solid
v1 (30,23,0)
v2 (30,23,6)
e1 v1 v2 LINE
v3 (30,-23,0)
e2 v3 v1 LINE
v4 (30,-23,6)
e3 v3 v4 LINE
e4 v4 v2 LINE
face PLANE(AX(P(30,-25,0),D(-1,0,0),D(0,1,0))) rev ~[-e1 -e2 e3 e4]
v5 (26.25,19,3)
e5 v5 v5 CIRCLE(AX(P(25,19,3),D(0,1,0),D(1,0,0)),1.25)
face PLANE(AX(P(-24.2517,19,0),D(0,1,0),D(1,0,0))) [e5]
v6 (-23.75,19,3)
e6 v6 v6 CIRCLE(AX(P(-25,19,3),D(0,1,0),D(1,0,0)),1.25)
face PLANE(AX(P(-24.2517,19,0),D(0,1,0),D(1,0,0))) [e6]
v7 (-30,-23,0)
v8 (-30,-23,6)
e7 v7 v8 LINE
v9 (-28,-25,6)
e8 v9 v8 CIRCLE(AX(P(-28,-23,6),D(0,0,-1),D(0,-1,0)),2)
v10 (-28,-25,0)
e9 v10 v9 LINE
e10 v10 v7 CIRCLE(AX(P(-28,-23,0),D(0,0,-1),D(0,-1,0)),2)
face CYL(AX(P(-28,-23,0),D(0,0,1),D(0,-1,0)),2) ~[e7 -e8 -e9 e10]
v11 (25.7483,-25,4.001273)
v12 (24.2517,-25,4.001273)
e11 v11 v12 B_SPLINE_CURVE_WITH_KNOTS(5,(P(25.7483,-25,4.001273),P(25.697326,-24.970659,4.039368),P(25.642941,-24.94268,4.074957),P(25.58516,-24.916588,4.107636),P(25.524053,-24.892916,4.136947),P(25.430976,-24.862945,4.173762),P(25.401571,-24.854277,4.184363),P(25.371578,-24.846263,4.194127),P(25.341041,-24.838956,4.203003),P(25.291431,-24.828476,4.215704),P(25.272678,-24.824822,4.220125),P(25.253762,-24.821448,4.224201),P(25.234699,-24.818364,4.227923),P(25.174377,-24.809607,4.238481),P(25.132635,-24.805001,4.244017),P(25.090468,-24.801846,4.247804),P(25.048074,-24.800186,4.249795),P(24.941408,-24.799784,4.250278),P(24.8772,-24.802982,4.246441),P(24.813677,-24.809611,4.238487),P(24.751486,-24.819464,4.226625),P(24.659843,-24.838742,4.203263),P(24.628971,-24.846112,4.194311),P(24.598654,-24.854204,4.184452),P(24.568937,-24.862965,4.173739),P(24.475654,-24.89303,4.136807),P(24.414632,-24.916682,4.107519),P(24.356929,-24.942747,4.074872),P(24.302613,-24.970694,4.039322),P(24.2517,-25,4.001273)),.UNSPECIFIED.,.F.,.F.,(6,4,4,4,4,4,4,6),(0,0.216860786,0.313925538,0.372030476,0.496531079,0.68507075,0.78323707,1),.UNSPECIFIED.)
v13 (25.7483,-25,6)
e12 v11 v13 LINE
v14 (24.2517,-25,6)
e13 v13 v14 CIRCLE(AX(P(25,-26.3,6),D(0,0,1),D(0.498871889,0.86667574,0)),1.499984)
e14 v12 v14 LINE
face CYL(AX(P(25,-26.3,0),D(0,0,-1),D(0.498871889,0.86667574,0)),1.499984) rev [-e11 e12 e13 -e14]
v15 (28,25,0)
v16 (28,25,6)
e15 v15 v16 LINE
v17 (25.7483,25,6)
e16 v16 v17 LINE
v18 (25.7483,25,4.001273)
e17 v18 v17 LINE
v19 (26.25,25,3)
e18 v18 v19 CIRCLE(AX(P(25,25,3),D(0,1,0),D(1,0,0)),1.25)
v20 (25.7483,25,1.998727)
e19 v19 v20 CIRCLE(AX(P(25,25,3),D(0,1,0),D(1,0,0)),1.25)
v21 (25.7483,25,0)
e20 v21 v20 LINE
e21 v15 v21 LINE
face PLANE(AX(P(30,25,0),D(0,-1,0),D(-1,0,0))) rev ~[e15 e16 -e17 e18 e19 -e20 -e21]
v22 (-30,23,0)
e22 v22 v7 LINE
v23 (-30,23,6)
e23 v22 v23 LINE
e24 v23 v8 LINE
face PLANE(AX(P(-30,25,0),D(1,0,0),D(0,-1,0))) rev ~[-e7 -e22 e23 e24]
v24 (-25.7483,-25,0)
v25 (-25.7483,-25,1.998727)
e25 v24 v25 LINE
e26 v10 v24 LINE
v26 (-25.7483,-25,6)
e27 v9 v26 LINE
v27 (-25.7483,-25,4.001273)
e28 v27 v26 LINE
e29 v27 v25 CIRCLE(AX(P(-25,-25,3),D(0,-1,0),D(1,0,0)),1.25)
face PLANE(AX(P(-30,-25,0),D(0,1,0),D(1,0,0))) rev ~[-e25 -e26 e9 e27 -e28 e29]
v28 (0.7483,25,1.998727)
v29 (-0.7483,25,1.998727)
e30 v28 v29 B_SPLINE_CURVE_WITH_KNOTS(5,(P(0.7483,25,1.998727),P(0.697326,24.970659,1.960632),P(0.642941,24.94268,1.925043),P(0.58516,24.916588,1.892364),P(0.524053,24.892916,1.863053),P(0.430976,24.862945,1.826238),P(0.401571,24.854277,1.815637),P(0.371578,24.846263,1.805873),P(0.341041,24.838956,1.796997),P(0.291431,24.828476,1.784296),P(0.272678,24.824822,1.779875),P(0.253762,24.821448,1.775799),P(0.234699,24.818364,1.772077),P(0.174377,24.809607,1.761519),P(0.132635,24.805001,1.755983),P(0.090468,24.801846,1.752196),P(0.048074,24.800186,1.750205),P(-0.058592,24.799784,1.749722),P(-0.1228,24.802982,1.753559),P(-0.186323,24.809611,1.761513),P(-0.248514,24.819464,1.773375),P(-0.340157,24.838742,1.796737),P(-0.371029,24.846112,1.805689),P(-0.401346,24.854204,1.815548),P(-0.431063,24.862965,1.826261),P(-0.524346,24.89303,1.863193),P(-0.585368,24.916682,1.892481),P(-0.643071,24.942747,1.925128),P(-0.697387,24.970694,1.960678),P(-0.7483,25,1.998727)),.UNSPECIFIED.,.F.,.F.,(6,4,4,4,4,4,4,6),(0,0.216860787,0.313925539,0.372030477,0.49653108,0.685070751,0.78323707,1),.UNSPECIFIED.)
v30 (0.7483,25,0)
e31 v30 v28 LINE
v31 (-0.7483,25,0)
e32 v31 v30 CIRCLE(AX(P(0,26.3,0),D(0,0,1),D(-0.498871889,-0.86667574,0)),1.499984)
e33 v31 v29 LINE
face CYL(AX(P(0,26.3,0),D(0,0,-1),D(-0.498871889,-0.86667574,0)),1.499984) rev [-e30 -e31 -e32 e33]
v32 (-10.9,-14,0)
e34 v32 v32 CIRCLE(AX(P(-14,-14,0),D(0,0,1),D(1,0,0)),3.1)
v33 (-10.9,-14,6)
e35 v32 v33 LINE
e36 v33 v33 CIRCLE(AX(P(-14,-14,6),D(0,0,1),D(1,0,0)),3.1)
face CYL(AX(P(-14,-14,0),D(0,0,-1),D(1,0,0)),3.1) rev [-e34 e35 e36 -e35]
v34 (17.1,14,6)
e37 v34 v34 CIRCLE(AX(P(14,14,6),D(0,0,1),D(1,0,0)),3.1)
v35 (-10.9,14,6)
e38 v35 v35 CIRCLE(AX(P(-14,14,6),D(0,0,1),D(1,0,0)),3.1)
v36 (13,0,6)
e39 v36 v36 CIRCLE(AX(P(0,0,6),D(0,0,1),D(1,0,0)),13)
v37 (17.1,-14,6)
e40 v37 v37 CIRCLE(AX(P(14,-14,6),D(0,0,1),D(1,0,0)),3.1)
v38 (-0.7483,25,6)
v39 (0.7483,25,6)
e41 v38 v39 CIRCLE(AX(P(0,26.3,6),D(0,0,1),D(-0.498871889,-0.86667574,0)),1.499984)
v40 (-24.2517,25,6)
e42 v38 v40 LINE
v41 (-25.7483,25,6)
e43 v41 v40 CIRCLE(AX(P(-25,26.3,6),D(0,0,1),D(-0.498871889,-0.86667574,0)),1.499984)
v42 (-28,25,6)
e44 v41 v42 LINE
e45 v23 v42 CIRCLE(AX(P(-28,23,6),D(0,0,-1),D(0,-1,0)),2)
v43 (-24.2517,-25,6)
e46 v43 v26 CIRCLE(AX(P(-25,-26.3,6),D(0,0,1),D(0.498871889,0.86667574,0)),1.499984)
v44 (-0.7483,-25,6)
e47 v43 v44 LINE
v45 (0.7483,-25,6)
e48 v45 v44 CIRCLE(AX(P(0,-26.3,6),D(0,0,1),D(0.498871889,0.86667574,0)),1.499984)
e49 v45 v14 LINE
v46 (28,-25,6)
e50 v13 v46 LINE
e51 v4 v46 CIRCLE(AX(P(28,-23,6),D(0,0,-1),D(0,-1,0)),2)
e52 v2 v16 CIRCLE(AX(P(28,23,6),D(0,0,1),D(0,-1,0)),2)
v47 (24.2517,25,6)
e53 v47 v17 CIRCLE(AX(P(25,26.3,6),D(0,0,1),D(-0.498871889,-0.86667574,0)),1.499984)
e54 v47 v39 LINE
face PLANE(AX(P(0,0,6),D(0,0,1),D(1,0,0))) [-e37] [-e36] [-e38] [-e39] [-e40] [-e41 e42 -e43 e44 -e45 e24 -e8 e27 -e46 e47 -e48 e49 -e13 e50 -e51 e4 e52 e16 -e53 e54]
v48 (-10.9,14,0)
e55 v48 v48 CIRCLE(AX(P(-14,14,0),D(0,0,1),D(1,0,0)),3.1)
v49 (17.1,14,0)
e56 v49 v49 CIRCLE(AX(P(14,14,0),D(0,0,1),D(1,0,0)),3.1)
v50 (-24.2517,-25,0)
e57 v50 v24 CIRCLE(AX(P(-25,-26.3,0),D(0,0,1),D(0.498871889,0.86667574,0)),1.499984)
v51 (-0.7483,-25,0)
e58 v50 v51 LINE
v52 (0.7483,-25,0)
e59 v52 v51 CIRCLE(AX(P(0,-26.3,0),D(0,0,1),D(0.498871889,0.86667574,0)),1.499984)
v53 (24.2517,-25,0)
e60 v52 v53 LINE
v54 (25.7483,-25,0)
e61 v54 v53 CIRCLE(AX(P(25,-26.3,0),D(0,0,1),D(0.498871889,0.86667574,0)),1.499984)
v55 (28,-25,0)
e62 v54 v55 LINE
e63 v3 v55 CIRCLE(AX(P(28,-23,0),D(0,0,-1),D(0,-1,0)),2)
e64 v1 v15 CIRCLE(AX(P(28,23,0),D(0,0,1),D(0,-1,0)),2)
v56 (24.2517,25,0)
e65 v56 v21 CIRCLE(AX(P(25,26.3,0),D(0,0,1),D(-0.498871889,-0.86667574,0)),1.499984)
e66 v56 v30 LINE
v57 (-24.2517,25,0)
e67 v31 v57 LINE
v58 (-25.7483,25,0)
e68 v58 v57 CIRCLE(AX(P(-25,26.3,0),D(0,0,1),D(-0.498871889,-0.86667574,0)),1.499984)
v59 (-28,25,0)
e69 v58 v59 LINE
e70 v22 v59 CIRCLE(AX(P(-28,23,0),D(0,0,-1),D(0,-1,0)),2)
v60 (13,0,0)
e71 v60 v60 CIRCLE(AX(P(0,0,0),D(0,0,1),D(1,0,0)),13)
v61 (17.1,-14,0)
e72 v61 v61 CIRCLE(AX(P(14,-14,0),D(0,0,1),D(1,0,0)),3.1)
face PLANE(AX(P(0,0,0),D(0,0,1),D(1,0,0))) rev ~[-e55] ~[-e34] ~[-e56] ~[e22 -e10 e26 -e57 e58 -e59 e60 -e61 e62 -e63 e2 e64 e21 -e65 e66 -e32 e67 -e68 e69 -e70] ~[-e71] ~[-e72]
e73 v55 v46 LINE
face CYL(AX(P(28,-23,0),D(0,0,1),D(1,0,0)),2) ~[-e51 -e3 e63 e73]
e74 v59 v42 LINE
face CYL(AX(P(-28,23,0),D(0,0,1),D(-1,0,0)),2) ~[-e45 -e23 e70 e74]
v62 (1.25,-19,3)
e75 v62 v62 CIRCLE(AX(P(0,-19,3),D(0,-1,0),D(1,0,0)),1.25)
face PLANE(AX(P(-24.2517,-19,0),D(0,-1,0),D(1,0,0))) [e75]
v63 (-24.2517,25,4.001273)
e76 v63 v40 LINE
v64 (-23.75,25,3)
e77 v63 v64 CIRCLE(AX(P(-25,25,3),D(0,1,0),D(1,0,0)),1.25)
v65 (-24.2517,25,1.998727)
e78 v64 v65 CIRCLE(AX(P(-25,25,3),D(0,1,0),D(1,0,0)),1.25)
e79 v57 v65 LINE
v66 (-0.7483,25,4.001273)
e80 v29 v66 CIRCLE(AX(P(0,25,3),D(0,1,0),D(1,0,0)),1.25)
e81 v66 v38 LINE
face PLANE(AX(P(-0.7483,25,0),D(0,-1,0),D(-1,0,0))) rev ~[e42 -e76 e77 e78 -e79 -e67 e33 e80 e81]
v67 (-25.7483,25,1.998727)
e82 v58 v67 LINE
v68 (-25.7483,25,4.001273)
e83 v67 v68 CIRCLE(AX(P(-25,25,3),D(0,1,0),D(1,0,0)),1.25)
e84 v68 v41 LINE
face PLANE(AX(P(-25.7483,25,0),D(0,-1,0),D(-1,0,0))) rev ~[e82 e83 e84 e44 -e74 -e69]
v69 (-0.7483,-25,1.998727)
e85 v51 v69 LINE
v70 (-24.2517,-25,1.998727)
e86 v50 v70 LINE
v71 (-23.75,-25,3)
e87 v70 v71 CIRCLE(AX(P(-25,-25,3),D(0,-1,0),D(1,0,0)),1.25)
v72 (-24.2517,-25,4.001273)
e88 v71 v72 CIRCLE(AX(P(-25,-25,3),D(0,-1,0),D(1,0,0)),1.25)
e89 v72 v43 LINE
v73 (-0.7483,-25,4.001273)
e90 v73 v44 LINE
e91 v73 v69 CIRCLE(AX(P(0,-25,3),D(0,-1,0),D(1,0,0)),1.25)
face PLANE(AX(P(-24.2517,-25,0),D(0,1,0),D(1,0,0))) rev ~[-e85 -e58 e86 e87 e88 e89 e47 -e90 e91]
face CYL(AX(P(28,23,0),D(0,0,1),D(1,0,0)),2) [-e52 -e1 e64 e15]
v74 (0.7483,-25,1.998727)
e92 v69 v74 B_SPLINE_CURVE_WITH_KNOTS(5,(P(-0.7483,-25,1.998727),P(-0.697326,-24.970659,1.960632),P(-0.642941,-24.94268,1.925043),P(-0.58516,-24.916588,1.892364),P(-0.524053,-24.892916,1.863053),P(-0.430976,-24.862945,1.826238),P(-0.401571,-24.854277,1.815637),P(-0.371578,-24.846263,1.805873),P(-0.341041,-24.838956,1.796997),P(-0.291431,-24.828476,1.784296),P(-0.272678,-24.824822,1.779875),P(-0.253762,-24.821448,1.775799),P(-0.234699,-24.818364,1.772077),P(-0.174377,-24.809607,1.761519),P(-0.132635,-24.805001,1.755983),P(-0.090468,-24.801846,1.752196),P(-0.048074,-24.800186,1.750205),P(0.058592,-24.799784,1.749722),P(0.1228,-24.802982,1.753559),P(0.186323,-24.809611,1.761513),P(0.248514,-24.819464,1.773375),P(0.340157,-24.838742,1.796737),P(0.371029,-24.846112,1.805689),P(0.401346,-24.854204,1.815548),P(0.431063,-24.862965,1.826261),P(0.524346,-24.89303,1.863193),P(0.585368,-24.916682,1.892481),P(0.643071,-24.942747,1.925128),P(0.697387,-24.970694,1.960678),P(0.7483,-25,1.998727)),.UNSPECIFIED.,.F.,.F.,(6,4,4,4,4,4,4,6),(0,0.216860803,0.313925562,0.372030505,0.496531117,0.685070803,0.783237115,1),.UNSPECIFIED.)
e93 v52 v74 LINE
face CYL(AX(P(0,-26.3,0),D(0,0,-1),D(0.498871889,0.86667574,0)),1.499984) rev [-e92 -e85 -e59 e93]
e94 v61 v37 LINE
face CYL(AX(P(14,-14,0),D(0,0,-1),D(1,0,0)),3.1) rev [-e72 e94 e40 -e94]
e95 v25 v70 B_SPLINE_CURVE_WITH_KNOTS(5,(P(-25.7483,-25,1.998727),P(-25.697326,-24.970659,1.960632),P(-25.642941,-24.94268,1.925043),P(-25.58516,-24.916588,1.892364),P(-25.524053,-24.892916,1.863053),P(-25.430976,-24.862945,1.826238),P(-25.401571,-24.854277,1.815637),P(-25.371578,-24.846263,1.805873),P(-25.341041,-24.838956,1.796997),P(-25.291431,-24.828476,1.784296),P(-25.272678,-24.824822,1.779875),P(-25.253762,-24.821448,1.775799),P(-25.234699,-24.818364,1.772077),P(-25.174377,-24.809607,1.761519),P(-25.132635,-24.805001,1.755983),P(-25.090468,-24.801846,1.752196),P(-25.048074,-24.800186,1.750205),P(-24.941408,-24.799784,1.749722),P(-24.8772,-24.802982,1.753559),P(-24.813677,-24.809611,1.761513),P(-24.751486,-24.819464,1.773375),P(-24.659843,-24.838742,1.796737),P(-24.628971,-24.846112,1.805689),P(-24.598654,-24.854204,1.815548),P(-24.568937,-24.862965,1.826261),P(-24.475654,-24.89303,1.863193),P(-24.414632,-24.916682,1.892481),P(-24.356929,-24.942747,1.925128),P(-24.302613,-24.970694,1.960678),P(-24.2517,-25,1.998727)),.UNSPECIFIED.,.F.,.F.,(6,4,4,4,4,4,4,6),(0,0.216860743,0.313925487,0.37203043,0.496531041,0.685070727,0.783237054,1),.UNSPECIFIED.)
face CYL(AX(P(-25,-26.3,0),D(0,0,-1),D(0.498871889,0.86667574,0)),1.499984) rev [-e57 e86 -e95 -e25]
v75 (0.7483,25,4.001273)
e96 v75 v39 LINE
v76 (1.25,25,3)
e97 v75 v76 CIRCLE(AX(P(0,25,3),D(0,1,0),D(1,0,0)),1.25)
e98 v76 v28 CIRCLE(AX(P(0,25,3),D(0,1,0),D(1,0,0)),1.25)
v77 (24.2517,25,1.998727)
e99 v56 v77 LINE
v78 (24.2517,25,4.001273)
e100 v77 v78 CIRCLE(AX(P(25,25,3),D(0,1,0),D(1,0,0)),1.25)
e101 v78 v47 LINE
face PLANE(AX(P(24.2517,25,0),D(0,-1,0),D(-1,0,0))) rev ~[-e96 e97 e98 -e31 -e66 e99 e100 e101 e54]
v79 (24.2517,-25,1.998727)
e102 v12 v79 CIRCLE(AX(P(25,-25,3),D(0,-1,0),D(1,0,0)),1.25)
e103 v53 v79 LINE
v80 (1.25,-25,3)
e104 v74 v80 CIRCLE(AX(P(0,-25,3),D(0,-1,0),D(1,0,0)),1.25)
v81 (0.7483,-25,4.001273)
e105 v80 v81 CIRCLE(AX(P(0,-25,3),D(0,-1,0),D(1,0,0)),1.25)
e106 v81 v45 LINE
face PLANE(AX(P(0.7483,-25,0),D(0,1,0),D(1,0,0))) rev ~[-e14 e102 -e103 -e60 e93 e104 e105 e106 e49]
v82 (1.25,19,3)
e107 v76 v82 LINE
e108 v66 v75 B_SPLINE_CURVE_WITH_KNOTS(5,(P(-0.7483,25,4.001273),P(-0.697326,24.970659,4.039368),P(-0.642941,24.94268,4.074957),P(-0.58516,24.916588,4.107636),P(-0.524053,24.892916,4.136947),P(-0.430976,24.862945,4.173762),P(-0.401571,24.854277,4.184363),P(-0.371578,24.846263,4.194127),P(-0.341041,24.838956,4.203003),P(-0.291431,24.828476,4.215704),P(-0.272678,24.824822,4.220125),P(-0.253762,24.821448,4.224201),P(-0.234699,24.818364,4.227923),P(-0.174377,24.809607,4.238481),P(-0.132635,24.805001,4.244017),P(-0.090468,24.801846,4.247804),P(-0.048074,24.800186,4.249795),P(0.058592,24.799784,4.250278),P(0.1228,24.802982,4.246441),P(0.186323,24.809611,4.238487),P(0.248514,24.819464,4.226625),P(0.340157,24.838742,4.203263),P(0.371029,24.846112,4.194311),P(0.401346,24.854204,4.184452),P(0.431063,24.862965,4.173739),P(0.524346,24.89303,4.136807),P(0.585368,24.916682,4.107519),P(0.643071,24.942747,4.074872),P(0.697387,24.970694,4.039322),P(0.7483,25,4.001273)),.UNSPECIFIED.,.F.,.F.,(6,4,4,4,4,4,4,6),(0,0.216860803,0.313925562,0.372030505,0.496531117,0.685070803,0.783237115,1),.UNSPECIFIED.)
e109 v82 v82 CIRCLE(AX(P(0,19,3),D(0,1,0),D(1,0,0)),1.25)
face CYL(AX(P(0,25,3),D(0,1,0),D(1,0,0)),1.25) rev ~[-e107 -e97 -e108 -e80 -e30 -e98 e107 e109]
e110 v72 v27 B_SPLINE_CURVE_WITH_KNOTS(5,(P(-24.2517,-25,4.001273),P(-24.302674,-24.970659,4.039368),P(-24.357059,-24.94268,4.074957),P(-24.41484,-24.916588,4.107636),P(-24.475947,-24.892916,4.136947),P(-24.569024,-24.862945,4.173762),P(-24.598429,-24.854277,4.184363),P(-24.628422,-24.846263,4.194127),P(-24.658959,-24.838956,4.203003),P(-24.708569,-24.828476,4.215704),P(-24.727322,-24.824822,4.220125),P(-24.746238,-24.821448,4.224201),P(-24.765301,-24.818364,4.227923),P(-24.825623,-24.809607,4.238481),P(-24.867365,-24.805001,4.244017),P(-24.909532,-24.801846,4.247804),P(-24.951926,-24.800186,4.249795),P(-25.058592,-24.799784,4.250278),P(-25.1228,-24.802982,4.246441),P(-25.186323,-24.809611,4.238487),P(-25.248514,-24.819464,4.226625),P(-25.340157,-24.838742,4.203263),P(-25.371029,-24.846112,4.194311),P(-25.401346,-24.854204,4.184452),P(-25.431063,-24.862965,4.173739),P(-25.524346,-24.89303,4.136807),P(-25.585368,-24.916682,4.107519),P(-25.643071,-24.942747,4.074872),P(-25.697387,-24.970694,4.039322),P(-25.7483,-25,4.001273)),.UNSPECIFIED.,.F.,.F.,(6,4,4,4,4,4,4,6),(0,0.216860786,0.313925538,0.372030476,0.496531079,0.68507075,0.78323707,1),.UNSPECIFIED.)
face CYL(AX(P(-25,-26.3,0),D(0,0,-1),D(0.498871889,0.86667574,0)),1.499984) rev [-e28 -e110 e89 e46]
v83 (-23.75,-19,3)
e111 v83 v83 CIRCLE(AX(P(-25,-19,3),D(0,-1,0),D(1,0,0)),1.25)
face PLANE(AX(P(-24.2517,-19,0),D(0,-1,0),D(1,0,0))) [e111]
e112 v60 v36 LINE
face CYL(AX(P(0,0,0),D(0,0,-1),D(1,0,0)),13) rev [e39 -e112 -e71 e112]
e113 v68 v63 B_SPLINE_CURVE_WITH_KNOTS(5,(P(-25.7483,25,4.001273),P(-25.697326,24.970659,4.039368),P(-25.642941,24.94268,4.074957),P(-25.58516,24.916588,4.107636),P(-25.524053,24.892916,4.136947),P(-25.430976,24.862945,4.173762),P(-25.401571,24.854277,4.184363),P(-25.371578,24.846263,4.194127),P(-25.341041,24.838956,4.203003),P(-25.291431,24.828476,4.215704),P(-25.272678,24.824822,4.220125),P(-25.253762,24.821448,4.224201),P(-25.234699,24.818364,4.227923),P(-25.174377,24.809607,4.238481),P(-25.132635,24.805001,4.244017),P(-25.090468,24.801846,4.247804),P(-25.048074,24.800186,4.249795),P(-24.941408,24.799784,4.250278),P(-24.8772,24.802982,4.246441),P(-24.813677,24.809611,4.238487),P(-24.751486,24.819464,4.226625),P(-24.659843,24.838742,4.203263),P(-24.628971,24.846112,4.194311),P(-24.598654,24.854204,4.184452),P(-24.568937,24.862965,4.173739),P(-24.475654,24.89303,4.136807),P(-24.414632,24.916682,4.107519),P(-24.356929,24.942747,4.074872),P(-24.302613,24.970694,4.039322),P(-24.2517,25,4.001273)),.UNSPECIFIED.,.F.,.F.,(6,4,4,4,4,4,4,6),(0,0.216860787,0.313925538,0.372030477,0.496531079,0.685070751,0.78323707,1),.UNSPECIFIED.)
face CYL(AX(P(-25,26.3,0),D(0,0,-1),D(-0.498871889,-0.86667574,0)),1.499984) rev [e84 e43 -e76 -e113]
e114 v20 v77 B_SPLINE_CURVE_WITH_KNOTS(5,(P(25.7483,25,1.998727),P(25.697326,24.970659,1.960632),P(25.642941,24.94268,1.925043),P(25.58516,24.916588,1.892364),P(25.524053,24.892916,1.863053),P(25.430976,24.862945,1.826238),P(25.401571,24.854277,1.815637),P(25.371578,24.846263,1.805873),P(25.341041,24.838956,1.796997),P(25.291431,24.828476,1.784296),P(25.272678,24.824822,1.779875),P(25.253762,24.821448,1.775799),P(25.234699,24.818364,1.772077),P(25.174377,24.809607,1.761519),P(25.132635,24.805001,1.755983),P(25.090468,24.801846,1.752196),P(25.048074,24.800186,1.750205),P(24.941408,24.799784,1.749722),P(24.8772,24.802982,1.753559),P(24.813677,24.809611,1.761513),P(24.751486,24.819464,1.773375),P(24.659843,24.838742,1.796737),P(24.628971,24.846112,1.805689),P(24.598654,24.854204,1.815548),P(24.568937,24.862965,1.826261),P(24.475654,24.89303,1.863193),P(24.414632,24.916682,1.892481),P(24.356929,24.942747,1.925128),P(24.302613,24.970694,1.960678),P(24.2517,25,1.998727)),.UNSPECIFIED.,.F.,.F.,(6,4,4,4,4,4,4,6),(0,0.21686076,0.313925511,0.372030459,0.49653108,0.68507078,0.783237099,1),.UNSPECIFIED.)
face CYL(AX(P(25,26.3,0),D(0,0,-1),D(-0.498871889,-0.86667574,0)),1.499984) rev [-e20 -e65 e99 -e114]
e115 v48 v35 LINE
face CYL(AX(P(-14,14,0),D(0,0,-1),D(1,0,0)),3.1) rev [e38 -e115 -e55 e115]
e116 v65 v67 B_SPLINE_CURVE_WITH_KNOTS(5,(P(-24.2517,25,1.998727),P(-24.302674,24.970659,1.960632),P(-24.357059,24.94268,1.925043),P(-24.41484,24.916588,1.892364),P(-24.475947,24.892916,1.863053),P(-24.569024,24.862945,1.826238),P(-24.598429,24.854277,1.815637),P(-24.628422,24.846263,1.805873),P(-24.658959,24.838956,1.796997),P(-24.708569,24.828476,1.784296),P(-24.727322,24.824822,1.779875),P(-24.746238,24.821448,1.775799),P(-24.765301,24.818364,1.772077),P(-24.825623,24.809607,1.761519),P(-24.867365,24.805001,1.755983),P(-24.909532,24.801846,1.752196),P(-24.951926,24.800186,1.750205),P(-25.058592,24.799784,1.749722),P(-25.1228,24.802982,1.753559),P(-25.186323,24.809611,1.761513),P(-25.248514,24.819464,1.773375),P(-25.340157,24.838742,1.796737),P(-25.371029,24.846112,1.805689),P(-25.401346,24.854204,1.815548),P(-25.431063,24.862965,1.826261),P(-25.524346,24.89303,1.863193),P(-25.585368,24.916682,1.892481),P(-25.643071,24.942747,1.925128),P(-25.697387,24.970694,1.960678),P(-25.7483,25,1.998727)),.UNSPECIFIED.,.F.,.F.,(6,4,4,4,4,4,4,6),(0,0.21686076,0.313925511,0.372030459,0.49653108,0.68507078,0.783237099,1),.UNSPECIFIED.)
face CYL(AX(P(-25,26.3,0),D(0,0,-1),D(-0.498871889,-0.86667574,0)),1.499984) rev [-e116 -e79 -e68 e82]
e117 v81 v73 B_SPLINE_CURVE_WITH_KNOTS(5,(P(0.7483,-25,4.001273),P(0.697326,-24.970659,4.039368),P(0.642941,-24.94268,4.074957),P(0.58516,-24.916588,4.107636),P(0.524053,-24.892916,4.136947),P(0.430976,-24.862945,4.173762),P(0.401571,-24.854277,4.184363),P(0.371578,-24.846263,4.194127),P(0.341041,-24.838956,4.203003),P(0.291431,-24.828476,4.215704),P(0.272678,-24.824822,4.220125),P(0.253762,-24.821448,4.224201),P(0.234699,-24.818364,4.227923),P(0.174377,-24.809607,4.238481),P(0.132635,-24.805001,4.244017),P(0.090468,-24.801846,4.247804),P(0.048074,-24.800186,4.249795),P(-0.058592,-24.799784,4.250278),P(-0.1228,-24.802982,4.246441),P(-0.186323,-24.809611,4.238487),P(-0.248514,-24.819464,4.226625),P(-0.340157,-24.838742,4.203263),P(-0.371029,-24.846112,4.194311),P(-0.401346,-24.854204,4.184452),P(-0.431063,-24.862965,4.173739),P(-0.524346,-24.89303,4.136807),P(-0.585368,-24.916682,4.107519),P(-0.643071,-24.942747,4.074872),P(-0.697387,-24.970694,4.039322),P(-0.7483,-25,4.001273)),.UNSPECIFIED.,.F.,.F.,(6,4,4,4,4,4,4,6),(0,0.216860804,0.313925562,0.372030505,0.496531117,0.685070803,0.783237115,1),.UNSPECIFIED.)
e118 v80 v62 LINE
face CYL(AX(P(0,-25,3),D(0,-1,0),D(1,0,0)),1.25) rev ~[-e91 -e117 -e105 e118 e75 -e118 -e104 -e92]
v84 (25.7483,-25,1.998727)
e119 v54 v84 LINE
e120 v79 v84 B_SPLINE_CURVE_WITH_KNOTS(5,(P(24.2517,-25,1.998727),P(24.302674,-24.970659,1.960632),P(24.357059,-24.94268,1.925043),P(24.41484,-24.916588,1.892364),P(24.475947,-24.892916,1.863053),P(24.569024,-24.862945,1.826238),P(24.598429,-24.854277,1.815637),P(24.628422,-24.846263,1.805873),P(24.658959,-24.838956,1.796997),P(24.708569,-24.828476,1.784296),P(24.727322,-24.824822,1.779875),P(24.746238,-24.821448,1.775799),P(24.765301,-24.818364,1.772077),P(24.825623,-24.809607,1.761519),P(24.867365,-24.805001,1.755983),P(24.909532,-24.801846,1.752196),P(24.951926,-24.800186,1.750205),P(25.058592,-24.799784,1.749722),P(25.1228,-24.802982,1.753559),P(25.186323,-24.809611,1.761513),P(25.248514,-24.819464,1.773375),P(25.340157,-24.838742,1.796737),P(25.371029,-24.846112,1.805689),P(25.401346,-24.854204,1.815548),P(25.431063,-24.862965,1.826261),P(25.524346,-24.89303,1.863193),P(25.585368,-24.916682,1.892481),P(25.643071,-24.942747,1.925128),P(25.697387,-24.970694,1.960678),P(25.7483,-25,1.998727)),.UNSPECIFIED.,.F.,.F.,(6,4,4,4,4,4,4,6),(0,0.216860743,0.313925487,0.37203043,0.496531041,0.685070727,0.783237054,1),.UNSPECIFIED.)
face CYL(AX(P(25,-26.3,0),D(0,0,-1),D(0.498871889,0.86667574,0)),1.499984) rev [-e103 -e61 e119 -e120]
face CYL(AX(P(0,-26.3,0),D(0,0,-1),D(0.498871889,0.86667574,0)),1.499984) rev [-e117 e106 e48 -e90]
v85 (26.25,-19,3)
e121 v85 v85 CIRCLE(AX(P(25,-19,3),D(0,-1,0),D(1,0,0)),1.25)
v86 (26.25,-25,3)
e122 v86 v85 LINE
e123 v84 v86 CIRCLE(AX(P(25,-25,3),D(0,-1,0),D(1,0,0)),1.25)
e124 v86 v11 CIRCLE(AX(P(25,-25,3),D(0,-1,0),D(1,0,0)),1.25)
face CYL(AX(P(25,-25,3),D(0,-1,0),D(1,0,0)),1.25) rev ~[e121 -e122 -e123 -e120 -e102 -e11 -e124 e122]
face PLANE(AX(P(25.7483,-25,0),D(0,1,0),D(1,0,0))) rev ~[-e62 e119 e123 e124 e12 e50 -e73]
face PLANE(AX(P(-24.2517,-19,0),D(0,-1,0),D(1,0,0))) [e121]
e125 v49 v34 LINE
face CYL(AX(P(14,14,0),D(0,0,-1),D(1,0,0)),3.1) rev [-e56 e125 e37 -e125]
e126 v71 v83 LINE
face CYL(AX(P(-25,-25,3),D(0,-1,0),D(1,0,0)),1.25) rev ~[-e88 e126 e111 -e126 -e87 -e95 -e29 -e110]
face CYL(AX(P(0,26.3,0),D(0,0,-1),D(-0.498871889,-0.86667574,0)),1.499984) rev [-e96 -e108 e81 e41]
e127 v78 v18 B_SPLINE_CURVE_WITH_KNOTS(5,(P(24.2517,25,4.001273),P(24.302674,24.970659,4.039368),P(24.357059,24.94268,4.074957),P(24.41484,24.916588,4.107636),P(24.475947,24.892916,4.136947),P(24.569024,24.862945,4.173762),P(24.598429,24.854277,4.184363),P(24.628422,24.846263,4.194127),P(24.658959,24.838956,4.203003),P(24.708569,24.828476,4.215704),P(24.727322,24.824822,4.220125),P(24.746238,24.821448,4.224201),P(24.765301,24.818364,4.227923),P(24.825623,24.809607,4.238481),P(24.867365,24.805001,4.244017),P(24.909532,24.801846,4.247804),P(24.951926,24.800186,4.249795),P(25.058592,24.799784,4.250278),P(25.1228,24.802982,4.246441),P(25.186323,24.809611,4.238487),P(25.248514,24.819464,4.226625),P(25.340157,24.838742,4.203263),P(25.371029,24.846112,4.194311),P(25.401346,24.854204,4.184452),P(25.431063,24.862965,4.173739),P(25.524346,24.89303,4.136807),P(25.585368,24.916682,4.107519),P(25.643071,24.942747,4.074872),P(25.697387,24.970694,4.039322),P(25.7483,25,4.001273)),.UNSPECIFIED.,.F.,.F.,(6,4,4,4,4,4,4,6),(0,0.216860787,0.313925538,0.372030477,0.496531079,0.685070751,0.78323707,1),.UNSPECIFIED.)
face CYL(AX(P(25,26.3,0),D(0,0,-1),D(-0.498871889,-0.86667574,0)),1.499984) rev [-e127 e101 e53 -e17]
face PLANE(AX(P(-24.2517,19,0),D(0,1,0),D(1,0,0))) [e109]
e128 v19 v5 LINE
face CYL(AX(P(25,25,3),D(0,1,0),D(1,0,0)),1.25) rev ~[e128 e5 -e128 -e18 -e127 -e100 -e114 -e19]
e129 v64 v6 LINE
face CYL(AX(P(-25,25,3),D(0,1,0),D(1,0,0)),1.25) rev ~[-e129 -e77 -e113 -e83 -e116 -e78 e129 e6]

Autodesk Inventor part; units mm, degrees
ref_plane "YZ Plane" through (0, 0, 0) normal (1, 0, 0) x (0, 1, 0)
ref_plane "XZ Plane" through (0, 0, 0) normal (0, 1, 0) x (-1, 0, 0)
ref_plane "XY Plane" through (0, 0, 0) normal (0, 0, 1) x (1, 0, 0)
sketch "スケッチ1" plane through (0, 0, 0) normal (0, 0, 1) x (1, 0, 0)
  circle A0 centre (0, 0) radius 13
  circle A1 centre (-14, 14) radius 3.1
  circle A2 centre (14, 14) radius 3.1
  circle A3 centre (-14, -14) radius 3.1
  circle A4 centre (14, -14) radius 3.1
  line L0 (20, 20) -> (-20, 20) construction
  line L1 (-20, 20) -> (-20, -20) construction
  line L2 (-20, -20) -> (20, -20) construction
  line L3 (20, -20) -> (20, 20) construction
  line L4 (20, 20) -> (-20, -20) construction
  line L5 (-20, 20) -> (20, -20) construction
  line L6 (30, 25) -> (25.7483, 25)
  line L7 (-30, 25) -> (-30, -25)
  line L8 (-30, -25) -> (-25.7483, -25)
  line L9 (30, -25) -> (30, 25)
  line L10 (30, 25) -> (-30, -25) construction
  line L11 (-30, 25) -> (30, -25) construction
  arc A5 (-0.7483, 25) -> (0.7483, 25) centre (0, 26.3) ccw
  arc A6 (-25.7483, 25) -> (-24.2517, 25) centre (-25, 26.3) ccw
  arc A7 (24.2517, 25) -> (25.7483, 25) centre (25, 26.3) ccw
  arc A8 (-24.2517, -25) -> (-25.7483, -25) centre (-25, -26.3) ccw
  arc A9 (0.7483, -25) -> (-0.7483, -25) centre (0, -26.3) ccw
  arc A10 (25.7483, -25) -> (24.2517, -25) centre (25, -26.3) ccw
  arc A11 (-24.2517, 25) -> (-25.7483, 25) centre (-25, 26.3) ccw construction
  arc A12 (0.7483, 25) -> (-0.7483, 25) centre (0, 26.3) ccw construction
  arc A13 (25.7483, 25) -> (24.2517, 25) centre (25, 26.3) ccw construction
  arc A14 (-25.7483, -25) -> (-24.2517, -25) centre (-25, -26.3) ccw construction
  arc A15 (-0.7483, -25) -> (0.7483, -25) centre (0, -26.3) ccw construction
  arc A16 (24.2517, -25) -> (25.7483, -25) centre (25, -26.3) ccw construction
  line L12 (-24.2517, 25) -> (-25.7483, 25) construction
  line L13 (-25.7483, 25) -> (-30, 25)
  line L14 (-0.7483, 25) -> (-24.2517, 25)
  line L15 (0.7483, 25) -> (-0.7483, 25) construction
  line L16 (25.7483, 25) -> (24.2517, 25) construction
  line L17 (24.2517, 25) -> (0.7483, 25)
  line L18 (-24.2517, -25) -> (-0.7483, -25)
  line L19 (-25.7483, -25) -> (-24.2517, -25) construction
  line L20 (0.7483, -25) -> (24.2517, -25)
  line L21 (-0.7483, -25) -> (0.7483, -25) construction
  line L22 (25.7483, -25) -> (30, -25)
  line L23 (24.2517, -25) -> (25.7483, -25) construction
  dimension "d0" = 26
  dimension "d1" = 6.2
  dimension "d2" = 6.2
  dimension "d3" = 6.2
  dimension "d4" = 6.2
  dimension "d5" = 28
  dimension "d6" = 28
  dimension "d7" = 14
  dimension "d8" = 14
  dimension "d9" = 40
  dimension "d10" = 40
  dimension "d11" = 10
  dimension "d12" = 5
  dimension "d13" = 3
  dimension "d14" = 3
  dimension "d15" = 3
  dimension "d16" = 3
  dimension "d17" = 3
  dimension "d18" = 3
  dimension "d19" = 1.3
  dimension "d20" = 1.3
  dimension "d21" = 25
  dimension "d22" = 25
extrude "押し出し1" add sketch "スケッチ1" along normal blind 6
sketch "スケッチ2" plane through (-24.2517, 25, 0) normal (0, 1, 0) x (1, 0, 0)
  circle A0 centre (-0.7483, -3) radius 1.25
  circle A1 centre (24.2517, -3) radius 1.25
  circle A2 centre (49.2517, -3) radius 1.25
  point P0 (24.2517, 0)
  dimension "d25" = 2.5
  dimension "d26" = 2.5
  dimension "d27" = 2.5
  dimension "d28" = 25
  dimension "d29" = 25
  dimension "d30" = 3
extrude "押し出し2" cut sketch "スケッチ2" against normal blind 6
sketch "スケッチ3" plane through (-24.2517, -25, 0) normal (0, -1, 0) x (1, 0, 0)
  circle A0 centre (24.2517, 3) radius 1.25 projected
  circle A1 centre (-0.7483, 3) radius 1.25 projected
  circle A2 centre (49.2517, 3) radius 1.25 projected
  point P0 (24.2517, 0)
extrude "押し出し3" cut sketch "スケッチ3" against normal blind 6
fillet "フィレット1" radius 2 4 edges at (-30, 25, 3) (30, 25, 3) (30, -25, 3) (-30, -25, 3)
equation "\"d7\" = 0.5 * d5"
equation "\"d8\" = 0.5 * d6"
properties part number "ハンド_エアシリンダ固定具" material "ポリカーボネート、スモーク"
